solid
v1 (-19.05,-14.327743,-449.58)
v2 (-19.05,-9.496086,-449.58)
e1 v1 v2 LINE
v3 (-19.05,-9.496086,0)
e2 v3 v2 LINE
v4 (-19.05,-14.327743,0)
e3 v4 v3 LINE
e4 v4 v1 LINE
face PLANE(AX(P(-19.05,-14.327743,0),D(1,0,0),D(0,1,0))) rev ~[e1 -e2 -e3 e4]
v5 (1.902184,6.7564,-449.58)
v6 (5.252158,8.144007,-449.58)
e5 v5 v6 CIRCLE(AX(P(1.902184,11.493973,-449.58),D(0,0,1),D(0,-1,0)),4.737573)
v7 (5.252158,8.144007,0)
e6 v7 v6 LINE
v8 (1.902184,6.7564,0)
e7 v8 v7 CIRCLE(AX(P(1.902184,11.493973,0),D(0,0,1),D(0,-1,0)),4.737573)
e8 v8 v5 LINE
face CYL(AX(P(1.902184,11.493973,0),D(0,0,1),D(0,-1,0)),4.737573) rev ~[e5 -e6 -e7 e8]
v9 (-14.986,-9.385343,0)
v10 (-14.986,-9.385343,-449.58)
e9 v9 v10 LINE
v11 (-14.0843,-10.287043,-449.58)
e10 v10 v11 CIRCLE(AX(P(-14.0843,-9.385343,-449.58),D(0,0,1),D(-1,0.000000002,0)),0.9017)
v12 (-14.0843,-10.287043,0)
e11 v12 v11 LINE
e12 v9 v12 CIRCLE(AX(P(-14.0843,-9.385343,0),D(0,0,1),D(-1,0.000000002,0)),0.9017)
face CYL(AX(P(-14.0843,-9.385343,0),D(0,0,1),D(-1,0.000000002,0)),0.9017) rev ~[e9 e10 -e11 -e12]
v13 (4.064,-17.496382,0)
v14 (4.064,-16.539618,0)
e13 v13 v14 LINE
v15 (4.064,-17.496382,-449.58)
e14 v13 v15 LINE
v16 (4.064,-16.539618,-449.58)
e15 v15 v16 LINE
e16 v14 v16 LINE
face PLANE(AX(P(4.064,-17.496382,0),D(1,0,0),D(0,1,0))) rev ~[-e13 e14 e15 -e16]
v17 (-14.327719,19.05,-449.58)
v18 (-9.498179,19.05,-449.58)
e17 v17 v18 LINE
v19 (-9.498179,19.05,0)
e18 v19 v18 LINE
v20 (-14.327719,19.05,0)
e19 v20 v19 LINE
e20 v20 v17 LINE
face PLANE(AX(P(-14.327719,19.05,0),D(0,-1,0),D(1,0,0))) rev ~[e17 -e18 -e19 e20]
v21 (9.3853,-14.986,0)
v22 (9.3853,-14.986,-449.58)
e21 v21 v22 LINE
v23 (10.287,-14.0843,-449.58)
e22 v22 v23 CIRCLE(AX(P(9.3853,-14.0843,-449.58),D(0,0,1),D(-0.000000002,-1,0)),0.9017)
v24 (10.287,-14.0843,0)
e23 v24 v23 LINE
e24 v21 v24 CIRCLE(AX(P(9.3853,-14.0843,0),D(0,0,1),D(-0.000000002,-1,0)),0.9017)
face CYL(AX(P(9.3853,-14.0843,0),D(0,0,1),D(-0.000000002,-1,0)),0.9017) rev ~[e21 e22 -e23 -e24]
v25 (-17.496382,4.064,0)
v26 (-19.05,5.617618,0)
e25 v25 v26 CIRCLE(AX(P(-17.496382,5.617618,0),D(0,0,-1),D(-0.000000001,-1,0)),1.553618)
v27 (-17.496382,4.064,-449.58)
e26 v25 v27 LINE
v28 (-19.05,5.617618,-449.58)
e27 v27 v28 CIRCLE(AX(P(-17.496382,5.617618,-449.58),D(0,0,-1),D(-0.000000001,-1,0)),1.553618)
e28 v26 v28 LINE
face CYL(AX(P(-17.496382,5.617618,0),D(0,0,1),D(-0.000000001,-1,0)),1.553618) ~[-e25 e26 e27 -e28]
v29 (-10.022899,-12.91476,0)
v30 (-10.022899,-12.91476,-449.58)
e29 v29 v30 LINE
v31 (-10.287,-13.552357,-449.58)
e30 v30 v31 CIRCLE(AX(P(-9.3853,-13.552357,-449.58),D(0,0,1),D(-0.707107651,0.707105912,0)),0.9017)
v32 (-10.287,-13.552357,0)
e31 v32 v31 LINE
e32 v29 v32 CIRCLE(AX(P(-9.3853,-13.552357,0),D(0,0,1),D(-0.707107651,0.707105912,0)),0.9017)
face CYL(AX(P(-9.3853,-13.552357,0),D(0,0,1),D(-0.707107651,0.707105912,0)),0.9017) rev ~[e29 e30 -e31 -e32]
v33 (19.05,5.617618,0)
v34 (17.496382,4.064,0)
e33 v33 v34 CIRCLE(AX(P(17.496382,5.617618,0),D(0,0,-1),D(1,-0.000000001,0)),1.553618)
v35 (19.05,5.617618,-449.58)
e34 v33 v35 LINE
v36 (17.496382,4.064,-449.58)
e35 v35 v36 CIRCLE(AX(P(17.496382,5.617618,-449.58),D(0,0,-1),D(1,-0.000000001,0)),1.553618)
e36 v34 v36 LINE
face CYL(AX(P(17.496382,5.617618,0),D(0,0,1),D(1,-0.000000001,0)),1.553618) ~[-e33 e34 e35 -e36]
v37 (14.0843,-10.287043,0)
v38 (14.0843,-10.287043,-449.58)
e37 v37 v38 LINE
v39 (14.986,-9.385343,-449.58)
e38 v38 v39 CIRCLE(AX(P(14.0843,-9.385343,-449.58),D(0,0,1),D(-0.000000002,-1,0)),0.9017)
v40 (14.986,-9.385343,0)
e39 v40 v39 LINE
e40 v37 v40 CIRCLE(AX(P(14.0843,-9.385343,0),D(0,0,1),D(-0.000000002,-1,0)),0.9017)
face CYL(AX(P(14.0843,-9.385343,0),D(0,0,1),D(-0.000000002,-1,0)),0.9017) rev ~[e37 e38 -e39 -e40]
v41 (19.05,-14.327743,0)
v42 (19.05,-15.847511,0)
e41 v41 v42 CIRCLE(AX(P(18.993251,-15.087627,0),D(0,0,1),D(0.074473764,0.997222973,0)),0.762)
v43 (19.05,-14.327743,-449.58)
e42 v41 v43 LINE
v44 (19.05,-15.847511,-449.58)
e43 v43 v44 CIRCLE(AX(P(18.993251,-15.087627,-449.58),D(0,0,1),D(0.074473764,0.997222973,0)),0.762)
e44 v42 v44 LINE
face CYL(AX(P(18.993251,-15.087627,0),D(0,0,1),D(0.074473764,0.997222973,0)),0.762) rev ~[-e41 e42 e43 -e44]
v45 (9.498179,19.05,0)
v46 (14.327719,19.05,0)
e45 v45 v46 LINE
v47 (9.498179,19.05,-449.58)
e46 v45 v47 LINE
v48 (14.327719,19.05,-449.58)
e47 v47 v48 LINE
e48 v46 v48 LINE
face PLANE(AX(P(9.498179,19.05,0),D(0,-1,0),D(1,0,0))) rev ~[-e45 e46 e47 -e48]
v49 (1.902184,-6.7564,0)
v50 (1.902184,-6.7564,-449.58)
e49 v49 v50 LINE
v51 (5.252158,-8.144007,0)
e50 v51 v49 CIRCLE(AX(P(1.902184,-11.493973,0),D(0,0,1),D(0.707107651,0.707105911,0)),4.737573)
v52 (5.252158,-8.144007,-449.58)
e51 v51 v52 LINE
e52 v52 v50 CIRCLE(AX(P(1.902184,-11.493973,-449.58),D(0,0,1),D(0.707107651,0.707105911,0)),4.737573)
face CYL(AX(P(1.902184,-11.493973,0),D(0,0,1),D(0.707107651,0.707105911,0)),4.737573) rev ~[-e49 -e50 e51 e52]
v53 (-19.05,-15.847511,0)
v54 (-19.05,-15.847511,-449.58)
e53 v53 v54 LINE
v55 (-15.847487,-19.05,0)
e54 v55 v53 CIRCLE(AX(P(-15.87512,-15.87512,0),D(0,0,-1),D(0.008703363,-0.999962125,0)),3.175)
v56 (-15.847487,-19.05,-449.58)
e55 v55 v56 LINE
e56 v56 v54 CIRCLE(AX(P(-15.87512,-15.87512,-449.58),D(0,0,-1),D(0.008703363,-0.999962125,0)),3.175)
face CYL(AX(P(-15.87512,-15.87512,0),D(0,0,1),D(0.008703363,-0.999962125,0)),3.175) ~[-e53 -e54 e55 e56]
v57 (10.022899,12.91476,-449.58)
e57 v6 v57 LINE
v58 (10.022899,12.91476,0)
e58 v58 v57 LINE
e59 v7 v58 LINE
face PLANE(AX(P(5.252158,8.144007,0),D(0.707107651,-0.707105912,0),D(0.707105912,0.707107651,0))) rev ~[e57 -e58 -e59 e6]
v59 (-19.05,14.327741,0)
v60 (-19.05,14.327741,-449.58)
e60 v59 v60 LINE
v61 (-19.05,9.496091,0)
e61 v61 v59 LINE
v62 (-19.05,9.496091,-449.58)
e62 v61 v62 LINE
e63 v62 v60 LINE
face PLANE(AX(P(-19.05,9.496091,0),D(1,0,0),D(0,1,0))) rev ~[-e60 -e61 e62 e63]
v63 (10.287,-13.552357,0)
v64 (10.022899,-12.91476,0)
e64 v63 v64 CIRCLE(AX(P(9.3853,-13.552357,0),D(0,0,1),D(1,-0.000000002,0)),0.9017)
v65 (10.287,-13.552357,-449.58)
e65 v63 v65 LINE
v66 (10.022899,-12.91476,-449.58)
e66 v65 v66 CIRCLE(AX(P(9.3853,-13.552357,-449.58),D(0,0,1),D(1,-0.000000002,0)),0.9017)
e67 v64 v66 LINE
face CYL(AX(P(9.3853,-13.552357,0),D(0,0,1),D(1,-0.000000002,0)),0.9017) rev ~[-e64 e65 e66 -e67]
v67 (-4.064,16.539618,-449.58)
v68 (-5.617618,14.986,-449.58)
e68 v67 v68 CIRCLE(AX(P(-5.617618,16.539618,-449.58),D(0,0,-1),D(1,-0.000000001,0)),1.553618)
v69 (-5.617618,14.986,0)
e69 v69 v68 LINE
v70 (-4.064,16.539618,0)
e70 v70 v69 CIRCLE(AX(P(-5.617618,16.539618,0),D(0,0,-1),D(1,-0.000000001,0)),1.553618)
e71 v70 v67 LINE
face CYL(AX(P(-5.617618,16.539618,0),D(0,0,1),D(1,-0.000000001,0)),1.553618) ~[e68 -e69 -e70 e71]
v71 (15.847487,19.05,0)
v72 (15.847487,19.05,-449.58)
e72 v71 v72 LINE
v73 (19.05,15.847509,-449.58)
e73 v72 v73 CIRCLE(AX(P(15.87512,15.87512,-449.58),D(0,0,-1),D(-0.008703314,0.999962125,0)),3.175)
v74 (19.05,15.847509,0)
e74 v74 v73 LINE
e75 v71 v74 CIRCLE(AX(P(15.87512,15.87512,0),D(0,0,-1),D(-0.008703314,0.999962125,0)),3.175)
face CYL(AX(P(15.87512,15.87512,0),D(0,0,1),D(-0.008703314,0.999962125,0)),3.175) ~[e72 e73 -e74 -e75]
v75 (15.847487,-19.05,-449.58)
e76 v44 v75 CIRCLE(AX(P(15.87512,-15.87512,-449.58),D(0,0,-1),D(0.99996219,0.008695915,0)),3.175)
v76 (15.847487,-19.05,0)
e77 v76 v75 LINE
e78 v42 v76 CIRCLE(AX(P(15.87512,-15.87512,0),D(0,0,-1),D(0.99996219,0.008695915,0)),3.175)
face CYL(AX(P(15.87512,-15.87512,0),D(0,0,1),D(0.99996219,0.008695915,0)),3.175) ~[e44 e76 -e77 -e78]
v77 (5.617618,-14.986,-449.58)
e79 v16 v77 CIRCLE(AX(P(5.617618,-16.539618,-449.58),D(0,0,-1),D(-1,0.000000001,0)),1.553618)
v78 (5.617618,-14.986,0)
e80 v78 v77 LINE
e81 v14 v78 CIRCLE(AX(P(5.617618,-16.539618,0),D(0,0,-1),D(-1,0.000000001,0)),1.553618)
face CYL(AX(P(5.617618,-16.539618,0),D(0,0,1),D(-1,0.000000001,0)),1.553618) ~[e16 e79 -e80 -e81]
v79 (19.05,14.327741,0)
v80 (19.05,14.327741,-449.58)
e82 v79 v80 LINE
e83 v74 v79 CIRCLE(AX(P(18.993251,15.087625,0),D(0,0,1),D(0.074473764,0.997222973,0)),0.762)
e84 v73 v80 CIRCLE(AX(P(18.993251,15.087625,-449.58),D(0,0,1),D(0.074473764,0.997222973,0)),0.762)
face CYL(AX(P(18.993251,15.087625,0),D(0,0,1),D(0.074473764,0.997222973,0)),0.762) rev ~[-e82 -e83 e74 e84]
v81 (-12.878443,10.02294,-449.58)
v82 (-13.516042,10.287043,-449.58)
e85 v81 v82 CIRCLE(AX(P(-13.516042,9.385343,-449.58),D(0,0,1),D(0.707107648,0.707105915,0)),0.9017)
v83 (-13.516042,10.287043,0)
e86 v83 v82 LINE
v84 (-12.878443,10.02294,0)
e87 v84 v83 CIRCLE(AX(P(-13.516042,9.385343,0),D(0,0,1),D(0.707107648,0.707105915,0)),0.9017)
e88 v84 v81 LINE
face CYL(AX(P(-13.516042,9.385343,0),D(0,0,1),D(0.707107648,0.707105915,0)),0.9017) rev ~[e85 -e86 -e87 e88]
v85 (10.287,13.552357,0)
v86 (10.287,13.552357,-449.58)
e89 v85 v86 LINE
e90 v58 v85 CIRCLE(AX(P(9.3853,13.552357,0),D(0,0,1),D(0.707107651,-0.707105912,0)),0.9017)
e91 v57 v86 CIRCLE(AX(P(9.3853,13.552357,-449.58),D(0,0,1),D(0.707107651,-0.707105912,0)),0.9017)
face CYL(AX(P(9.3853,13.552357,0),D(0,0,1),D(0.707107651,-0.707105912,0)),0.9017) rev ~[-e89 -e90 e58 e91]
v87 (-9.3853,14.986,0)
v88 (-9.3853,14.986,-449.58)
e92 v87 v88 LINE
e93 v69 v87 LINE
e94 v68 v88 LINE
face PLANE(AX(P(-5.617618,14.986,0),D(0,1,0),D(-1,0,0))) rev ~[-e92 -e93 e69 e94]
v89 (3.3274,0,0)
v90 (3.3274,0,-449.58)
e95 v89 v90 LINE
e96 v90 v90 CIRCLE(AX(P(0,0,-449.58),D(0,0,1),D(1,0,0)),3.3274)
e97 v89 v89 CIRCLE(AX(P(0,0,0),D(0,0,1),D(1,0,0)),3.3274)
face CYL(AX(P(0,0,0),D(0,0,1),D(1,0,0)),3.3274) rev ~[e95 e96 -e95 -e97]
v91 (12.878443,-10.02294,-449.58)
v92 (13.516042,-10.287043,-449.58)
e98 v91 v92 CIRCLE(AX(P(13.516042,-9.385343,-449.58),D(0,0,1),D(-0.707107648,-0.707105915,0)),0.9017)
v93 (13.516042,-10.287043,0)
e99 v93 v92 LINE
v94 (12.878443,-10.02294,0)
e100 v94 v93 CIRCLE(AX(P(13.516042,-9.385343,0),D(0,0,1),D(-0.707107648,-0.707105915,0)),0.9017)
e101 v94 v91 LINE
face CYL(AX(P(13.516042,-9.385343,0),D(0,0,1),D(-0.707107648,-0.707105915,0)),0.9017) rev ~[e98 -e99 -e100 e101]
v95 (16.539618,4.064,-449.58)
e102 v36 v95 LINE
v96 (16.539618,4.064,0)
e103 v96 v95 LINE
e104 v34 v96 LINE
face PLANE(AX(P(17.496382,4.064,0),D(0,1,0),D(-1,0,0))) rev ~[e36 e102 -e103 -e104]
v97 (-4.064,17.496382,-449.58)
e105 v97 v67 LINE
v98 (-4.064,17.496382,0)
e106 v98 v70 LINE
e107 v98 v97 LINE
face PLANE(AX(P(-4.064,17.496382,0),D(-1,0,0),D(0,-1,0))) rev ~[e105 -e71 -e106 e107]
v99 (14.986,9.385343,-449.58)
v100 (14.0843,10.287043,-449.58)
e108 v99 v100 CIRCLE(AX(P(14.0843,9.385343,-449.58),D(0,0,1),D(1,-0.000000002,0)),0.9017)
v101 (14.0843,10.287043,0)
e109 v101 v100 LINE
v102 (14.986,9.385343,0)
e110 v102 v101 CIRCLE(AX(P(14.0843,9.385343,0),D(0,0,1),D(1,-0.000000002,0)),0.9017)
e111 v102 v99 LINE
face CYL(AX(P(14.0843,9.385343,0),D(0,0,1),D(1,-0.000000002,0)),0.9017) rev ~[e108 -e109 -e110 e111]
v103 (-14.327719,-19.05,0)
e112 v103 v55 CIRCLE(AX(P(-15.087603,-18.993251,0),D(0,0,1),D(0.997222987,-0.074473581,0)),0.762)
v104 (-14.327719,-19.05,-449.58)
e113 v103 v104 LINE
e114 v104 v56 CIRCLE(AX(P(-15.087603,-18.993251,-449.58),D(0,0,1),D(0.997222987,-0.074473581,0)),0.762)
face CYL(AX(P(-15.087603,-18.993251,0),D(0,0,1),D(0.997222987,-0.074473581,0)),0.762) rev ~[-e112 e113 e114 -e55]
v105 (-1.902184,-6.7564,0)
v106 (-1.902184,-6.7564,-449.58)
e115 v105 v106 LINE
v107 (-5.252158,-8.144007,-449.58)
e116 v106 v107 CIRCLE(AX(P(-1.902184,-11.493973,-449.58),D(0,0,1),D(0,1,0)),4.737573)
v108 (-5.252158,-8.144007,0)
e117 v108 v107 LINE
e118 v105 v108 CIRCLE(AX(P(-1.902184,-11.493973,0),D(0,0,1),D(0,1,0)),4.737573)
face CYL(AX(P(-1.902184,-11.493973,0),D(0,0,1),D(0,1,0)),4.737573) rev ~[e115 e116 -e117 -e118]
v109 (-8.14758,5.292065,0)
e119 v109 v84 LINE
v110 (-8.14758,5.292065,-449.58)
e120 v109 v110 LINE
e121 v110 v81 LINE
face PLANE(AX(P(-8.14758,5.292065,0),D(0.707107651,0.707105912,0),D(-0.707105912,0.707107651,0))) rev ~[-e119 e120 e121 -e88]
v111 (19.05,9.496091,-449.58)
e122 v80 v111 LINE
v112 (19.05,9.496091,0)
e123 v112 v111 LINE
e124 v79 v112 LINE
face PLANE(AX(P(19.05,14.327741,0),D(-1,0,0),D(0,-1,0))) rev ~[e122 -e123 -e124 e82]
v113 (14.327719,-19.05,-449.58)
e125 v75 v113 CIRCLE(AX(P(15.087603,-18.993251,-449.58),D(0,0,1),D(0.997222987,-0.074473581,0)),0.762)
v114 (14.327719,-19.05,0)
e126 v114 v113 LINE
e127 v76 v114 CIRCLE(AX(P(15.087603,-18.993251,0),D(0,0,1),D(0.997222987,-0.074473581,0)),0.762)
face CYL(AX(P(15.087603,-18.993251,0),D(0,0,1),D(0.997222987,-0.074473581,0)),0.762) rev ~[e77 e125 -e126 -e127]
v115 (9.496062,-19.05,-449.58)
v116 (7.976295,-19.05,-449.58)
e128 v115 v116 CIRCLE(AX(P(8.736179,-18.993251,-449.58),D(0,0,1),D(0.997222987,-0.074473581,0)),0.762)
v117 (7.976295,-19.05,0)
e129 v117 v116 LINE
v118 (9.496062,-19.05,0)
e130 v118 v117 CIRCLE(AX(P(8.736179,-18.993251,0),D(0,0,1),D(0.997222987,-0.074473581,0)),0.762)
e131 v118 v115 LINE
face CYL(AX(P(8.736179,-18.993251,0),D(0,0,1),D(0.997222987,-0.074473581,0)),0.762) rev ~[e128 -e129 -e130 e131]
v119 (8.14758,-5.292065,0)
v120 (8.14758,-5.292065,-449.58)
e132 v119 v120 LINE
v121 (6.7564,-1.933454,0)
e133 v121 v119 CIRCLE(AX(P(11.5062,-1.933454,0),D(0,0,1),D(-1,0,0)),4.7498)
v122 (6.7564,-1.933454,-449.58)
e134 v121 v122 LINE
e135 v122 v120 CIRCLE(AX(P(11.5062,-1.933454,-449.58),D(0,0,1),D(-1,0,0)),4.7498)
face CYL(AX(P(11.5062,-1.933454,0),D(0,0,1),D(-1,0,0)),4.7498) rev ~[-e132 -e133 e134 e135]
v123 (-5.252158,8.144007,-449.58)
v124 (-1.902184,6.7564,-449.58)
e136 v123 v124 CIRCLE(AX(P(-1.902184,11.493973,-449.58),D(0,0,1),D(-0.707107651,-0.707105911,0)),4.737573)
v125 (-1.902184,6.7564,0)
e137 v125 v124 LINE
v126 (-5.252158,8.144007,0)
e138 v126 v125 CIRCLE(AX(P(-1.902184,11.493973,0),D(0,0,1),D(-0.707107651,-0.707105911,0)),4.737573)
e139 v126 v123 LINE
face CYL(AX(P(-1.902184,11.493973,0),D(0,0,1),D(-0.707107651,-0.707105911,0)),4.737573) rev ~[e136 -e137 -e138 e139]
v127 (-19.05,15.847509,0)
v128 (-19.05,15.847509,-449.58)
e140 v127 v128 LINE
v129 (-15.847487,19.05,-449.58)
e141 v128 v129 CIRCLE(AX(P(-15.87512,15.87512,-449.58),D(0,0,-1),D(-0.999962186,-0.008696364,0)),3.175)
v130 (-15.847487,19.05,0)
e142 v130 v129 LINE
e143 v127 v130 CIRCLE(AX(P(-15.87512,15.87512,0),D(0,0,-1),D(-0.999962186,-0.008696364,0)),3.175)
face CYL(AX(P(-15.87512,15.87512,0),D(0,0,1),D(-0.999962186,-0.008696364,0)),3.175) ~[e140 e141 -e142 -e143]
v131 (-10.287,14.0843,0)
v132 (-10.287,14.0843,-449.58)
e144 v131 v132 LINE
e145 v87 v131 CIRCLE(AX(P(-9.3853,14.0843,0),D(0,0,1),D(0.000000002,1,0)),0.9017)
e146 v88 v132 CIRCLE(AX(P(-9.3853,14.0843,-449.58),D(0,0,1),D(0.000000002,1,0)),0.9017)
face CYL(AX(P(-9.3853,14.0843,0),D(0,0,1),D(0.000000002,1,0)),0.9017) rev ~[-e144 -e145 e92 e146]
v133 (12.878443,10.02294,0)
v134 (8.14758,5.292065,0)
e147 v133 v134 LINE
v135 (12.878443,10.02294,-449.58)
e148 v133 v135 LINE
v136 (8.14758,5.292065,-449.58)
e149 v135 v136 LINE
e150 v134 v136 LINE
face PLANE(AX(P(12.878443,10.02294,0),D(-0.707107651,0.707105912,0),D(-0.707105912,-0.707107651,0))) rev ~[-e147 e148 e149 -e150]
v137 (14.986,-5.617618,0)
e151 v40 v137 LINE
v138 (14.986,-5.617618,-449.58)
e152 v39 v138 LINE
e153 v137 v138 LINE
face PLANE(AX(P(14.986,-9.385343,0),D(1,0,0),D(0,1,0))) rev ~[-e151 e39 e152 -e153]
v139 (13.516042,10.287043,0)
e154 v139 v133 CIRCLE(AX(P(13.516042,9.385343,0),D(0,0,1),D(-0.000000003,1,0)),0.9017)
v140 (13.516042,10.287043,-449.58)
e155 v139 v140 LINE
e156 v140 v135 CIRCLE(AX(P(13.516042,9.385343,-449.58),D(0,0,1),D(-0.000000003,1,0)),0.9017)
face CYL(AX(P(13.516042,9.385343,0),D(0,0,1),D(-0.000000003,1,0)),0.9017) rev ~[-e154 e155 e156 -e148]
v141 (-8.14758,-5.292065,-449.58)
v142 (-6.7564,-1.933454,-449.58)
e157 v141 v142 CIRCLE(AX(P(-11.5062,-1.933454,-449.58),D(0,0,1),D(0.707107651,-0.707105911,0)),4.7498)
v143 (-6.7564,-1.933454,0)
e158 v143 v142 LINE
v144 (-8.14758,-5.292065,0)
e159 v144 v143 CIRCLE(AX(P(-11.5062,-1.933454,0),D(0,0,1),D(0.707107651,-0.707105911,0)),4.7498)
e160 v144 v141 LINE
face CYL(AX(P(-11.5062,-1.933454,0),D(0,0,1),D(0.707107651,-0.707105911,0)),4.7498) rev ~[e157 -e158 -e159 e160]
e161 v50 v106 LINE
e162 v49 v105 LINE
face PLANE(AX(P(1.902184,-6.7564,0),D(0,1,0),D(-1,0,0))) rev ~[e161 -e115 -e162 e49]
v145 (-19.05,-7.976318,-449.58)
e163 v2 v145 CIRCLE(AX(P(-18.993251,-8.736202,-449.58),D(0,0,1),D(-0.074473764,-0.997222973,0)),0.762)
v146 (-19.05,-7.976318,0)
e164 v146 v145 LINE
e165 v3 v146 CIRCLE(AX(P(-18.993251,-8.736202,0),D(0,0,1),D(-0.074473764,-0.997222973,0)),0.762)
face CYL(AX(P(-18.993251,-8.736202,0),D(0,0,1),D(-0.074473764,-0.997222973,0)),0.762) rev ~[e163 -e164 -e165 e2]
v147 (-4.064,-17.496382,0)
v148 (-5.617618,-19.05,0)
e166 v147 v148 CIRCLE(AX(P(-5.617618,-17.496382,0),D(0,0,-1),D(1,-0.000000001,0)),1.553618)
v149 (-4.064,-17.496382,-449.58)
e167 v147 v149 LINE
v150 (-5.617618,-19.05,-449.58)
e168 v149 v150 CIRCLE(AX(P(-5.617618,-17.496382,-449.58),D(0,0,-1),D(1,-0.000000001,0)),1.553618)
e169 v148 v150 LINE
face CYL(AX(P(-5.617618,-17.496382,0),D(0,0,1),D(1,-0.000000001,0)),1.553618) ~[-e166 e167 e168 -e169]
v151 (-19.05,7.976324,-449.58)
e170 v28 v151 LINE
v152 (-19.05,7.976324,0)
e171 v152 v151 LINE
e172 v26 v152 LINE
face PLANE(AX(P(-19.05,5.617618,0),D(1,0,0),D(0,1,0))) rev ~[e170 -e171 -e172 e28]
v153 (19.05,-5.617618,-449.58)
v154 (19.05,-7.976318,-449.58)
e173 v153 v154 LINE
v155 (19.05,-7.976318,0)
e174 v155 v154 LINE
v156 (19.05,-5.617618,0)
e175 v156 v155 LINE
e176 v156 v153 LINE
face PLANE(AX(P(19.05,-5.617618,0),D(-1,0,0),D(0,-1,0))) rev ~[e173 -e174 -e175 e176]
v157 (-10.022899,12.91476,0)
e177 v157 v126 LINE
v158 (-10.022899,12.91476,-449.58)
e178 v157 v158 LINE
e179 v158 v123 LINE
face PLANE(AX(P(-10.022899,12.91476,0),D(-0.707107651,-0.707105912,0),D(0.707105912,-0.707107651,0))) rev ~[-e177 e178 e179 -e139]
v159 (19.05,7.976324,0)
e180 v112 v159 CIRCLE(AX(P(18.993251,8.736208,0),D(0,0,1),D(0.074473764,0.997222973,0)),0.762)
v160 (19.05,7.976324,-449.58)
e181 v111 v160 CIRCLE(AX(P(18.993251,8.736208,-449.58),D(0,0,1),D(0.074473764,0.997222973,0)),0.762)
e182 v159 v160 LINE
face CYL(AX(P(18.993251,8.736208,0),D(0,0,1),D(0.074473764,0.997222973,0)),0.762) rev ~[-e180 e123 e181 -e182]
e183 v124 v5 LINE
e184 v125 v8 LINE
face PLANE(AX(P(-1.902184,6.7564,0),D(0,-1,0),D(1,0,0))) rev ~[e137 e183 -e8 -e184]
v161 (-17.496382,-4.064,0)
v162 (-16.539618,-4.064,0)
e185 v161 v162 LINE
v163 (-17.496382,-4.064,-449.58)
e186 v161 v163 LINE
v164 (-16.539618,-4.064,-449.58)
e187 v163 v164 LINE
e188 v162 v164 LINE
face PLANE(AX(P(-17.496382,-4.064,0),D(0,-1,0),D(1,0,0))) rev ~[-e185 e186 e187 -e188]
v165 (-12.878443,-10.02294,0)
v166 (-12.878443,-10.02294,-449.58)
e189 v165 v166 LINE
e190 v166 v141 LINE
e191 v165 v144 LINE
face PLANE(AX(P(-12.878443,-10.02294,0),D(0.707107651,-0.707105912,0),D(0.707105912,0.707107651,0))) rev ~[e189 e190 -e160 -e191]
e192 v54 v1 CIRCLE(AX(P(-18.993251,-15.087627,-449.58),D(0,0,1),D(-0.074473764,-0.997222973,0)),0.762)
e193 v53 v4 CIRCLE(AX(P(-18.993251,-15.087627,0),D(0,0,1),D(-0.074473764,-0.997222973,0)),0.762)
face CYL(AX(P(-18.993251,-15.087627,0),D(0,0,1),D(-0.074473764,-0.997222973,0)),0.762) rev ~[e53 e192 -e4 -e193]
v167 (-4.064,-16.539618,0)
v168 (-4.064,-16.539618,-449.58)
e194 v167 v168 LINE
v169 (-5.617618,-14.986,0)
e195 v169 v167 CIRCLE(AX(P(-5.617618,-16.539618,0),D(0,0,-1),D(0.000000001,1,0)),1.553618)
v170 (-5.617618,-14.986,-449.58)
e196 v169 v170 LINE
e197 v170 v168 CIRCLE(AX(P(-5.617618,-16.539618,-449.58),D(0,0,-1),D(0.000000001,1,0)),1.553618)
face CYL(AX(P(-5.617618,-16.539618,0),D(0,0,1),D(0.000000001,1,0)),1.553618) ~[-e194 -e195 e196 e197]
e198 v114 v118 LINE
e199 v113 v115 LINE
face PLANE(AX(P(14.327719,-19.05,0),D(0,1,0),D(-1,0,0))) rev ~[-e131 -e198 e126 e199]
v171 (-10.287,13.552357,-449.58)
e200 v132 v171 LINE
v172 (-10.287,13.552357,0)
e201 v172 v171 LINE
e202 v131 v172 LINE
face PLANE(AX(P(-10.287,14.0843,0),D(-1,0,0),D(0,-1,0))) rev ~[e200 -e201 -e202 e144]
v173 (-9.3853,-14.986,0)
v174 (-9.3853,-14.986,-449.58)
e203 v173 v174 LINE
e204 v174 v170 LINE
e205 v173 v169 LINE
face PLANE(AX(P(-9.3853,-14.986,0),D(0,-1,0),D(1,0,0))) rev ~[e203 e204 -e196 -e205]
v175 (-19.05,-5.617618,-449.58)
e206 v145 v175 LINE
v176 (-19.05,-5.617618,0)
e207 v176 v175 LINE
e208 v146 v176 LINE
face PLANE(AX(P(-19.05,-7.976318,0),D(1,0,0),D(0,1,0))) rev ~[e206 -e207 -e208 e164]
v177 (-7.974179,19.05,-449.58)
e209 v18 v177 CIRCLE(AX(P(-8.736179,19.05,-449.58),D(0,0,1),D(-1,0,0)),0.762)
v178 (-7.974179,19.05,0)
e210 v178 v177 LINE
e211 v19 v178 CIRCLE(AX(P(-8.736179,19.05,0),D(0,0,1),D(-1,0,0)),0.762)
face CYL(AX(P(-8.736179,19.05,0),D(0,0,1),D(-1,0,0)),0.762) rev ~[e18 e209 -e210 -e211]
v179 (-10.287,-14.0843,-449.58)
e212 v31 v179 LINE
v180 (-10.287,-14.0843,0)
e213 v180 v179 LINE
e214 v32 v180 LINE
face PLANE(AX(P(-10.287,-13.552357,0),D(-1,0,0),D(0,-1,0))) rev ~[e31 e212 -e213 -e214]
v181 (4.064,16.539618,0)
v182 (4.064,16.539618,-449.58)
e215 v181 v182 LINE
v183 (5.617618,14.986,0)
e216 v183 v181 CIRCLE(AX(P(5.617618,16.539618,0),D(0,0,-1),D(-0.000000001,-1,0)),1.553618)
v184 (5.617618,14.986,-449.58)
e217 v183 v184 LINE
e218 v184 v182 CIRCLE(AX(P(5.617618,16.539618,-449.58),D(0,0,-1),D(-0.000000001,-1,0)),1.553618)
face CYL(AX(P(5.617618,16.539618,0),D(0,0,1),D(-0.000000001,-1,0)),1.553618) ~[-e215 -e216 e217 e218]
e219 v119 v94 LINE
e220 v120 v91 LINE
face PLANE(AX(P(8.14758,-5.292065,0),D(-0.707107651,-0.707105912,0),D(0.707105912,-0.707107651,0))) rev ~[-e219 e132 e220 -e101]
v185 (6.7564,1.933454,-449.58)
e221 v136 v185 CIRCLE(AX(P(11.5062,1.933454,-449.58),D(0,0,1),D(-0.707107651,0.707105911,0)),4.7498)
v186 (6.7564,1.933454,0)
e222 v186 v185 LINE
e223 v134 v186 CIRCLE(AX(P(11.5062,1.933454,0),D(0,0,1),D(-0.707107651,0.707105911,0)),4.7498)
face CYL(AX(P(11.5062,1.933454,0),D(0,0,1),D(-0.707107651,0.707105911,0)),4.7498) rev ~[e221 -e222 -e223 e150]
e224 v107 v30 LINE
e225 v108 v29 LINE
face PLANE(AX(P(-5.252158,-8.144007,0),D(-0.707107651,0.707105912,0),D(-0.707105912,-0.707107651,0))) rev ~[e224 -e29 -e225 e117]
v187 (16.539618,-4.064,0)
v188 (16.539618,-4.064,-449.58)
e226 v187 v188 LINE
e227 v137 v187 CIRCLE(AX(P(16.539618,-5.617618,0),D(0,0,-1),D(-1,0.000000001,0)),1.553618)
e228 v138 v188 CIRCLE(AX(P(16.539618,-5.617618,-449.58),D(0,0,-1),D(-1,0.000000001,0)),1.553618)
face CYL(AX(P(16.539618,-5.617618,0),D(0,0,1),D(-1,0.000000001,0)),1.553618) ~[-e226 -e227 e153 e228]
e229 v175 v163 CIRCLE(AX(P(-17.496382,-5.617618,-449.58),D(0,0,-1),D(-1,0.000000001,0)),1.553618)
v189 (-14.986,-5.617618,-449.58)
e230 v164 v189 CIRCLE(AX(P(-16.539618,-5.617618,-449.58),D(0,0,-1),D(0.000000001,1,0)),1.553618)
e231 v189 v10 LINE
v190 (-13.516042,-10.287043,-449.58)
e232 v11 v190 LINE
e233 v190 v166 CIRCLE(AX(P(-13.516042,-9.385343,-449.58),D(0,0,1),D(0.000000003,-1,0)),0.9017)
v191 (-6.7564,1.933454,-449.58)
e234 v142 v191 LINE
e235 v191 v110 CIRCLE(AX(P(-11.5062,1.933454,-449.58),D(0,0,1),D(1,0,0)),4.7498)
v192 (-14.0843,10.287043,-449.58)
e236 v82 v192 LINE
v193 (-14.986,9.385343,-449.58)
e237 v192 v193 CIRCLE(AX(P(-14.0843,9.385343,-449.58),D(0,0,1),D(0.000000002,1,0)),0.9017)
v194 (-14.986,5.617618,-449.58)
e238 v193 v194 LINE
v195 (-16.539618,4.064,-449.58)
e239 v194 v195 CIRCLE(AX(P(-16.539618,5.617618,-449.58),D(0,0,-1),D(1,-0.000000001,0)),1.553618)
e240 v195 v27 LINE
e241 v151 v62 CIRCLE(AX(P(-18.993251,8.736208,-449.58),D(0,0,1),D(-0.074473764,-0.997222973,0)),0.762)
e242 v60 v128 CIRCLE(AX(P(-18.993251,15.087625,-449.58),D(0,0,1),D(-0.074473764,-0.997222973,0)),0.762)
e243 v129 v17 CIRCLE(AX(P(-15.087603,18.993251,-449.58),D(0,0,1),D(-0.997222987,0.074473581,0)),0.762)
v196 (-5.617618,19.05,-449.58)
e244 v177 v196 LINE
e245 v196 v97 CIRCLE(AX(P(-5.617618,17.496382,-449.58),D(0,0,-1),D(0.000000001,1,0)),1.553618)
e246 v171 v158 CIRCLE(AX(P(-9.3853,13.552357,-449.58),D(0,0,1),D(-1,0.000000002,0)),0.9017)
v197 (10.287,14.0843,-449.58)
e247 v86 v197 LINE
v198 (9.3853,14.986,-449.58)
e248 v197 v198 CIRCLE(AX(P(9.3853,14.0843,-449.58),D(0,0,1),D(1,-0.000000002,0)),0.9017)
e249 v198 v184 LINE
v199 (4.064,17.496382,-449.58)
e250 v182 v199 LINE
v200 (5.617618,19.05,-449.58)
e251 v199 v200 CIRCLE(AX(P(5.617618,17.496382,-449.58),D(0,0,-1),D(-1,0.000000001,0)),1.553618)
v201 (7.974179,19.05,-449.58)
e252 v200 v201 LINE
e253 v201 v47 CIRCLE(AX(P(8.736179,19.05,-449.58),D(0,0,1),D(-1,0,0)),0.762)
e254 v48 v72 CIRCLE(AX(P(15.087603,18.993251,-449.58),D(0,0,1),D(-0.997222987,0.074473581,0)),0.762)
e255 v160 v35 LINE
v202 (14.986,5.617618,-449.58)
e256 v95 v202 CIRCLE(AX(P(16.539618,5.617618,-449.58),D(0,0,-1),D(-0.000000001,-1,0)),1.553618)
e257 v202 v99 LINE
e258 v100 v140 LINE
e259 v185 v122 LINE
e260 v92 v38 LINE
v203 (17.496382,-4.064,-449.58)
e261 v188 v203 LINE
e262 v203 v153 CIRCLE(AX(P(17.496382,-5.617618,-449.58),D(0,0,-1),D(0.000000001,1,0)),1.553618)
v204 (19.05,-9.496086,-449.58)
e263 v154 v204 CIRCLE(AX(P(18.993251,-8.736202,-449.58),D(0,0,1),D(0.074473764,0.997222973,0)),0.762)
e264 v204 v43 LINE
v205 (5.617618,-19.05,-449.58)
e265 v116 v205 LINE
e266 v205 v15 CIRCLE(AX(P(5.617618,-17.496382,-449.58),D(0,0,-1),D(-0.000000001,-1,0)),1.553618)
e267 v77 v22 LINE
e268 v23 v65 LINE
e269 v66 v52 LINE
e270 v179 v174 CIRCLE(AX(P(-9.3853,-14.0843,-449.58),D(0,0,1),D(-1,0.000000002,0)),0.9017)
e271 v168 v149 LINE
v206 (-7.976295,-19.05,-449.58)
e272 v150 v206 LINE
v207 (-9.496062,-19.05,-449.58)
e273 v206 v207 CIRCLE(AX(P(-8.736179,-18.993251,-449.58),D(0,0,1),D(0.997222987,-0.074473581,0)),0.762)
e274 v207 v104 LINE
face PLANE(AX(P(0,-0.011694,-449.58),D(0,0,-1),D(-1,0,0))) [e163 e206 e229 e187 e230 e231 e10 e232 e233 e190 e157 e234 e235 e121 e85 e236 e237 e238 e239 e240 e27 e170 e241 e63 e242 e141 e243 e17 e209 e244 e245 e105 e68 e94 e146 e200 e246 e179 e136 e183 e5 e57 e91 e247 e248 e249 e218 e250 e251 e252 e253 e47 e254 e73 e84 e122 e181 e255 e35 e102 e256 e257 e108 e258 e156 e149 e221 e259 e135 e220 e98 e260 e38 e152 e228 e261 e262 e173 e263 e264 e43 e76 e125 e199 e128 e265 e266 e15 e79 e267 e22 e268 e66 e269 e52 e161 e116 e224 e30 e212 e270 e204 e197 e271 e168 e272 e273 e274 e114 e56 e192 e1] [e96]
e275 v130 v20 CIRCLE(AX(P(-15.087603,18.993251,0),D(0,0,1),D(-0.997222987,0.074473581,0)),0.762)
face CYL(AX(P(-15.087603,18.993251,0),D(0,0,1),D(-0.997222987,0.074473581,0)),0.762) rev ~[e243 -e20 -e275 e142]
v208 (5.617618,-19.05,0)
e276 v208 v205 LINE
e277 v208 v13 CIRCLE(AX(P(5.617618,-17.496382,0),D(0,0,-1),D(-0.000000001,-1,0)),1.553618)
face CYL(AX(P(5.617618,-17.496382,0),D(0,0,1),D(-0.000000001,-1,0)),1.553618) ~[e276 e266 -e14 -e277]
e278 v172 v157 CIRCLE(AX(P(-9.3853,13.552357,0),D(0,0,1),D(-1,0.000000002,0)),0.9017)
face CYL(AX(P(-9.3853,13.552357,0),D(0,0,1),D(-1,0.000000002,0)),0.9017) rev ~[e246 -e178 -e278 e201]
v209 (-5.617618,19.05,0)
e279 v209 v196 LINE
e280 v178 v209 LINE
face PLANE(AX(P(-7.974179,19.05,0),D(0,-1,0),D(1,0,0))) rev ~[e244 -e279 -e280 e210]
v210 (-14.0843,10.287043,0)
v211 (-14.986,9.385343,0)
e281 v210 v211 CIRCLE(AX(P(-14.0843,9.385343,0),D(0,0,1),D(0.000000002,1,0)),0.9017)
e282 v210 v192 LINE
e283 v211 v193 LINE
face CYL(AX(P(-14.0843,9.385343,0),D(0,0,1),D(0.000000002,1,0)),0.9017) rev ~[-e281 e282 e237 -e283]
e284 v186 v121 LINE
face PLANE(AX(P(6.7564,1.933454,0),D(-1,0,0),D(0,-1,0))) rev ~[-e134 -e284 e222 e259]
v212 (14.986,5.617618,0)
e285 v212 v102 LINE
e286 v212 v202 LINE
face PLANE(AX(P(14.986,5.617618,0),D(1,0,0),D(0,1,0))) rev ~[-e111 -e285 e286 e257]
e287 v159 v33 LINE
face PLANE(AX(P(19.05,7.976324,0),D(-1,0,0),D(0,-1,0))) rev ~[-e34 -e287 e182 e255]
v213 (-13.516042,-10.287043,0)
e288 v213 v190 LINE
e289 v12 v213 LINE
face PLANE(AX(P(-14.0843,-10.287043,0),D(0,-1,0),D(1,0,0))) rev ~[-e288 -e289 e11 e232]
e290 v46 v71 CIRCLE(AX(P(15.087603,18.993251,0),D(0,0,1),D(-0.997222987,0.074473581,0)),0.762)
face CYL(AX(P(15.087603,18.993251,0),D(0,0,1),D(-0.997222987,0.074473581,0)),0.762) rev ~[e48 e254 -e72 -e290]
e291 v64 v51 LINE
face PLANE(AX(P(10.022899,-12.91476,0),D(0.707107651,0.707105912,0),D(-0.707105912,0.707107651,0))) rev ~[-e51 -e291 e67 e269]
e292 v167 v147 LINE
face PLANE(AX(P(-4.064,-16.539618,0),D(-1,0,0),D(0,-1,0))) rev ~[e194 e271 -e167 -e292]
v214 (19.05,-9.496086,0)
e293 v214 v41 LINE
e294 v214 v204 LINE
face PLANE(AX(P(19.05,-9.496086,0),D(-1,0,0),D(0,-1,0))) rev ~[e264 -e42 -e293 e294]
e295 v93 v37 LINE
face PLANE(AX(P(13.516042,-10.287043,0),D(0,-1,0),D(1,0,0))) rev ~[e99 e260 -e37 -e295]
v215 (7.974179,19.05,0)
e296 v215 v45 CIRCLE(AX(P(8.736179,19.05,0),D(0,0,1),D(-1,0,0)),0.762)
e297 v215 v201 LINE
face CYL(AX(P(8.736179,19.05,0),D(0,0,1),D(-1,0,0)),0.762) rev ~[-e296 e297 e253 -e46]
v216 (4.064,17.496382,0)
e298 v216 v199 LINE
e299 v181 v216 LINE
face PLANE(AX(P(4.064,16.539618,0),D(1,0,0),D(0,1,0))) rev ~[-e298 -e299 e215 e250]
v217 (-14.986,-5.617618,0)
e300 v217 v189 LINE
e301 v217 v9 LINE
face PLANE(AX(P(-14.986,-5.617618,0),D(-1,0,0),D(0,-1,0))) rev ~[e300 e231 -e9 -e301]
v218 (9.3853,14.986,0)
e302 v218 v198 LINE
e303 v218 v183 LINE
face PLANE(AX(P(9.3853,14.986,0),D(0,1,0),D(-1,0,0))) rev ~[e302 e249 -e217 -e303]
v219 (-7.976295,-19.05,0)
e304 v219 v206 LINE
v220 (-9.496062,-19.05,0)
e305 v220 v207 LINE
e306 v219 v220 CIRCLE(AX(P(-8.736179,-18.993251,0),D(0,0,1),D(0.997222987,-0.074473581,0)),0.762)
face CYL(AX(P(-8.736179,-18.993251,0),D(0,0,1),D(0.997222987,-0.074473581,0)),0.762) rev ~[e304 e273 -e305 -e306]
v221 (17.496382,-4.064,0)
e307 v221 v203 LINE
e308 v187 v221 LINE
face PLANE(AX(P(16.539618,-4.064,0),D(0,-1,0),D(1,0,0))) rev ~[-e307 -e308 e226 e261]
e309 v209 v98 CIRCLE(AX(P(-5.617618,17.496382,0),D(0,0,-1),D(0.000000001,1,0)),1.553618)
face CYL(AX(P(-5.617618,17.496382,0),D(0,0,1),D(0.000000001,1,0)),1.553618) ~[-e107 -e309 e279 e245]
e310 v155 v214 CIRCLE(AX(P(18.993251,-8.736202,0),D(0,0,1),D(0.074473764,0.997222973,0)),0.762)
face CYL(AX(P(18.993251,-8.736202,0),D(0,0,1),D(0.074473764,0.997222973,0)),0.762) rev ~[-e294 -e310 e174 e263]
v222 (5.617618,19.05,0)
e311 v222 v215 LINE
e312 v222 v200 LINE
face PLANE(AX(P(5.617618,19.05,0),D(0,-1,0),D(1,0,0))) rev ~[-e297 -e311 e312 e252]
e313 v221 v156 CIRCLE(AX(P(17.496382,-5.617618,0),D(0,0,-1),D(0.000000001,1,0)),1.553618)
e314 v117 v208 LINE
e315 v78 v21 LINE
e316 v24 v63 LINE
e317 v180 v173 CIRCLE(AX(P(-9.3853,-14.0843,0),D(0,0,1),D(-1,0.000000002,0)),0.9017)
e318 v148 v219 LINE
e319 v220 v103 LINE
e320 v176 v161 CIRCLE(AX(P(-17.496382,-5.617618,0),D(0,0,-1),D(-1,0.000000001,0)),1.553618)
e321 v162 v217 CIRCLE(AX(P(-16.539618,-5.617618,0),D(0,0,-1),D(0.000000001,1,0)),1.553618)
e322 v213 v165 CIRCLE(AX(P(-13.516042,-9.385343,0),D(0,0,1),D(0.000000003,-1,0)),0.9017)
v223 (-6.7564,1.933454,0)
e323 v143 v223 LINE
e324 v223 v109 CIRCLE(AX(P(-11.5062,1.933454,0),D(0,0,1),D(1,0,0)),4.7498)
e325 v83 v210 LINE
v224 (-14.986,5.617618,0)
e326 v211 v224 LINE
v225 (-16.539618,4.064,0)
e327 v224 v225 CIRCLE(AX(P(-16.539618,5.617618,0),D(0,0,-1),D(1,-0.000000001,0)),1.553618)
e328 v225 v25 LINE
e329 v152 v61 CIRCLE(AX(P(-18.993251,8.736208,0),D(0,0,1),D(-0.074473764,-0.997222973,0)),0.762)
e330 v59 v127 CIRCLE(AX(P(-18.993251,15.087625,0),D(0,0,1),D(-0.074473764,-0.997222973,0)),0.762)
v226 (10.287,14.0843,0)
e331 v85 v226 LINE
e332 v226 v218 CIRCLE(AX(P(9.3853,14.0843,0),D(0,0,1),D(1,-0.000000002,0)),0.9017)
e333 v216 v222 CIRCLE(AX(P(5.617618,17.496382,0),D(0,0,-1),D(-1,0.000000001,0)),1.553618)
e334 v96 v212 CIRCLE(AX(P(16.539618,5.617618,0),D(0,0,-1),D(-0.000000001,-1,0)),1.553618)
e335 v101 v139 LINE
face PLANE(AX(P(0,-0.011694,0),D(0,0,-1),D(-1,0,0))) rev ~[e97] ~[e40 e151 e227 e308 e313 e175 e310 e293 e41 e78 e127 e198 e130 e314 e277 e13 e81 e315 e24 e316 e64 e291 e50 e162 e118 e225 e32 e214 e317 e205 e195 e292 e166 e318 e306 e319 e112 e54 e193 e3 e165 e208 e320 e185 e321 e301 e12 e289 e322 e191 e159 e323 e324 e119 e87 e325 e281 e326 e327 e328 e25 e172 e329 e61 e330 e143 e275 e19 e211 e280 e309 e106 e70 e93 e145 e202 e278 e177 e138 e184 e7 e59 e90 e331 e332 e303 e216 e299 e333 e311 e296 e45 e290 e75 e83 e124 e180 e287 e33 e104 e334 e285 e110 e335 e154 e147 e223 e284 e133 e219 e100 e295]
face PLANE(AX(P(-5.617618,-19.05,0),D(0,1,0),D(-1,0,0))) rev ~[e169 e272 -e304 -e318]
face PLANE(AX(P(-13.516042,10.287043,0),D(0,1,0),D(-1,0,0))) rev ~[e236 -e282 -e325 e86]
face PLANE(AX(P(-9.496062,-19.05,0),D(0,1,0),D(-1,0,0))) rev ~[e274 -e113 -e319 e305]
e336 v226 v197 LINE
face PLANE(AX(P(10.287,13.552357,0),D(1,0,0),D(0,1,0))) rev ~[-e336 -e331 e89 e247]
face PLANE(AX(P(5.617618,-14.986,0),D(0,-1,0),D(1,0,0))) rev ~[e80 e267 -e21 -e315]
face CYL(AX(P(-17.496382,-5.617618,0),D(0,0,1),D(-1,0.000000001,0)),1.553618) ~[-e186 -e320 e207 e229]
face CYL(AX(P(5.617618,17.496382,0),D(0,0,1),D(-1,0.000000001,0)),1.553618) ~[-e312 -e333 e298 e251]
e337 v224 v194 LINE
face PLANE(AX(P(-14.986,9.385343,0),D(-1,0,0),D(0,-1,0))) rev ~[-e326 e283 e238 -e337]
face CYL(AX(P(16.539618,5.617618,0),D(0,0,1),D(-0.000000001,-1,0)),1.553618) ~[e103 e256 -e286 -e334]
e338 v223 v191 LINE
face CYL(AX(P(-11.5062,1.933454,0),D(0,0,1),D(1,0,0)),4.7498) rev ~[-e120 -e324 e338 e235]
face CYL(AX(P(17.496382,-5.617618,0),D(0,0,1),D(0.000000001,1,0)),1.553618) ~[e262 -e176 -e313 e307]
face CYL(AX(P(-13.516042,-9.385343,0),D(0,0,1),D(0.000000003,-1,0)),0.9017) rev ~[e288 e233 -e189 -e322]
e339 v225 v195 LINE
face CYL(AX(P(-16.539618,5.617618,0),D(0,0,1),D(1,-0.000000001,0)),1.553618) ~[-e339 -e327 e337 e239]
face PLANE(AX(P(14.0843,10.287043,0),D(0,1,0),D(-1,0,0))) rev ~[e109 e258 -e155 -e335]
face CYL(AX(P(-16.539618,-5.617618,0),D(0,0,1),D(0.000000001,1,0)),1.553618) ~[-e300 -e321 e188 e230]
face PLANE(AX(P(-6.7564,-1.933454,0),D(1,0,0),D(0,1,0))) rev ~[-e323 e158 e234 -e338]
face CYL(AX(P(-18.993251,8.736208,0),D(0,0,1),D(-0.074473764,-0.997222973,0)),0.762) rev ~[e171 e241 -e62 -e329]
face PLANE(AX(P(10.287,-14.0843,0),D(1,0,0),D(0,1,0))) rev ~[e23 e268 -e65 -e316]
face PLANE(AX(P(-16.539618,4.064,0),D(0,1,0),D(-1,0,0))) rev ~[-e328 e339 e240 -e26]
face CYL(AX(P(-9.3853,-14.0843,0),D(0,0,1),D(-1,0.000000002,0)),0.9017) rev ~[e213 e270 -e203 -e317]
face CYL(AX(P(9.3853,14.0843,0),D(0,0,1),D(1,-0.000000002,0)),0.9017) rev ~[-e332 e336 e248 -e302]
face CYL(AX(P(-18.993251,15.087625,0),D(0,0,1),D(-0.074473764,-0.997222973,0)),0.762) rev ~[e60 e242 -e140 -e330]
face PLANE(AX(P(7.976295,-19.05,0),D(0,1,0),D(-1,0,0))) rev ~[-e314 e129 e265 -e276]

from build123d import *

# Parameters (mm, degrees)
SKETCH1_R      = 3.3274
EXTRUDE1_DEPTH = 449.58


with BuildPart() as part:
    # Sketch1 → Extrude1 (new body)
    with BuildSketch(Plane.XY):
        with BuildLine():
            Line((-10.022898969, 12.91475973), (-5.252158105, 8.144007132))
            ThreePointArc((-5.252158105, 8.144007132), (-3.715177372, 7.117027388), (-1.902183975, 6.7564))
            Line((-1.902183975, 6.7564), (1.902183975, 6.7564))
            ThreePointArc((1.902183975, 6.7564), (3.715177372, 7.117027388), (5.252158105, 8.144007132))
            Line((5.252158105, 8.144007132), (10.022898969, 12.91475973))
            ThreePointArc((10.022898969, 12.91475973), (10.218362387, 13.207291992), (10.287, 13.552357131))
            Line((10.287, 13.552357131), (10.287, 14.0843))
            ThreePointArc((10.287, 14.0843), (10.022898185, 14.721898185), (9.3853, 14.986))
            Line((9.3853, 14.986), (5.617617549, 14.986))
            ThreePointArc((5.617617549, 14.986), (4.519044045, 15.441044045), (4.064, 16.539617549))
            Line((4.064, 16.539617549), (4.064, 17.496382451))
            ThreePointArc((4.064, 17.496382451), (4.519044045, 18.594955955), (5.617617549, 19.05))
            Line((5.617617549, 19.05), (7.974178704, 19.05))
            ThreePointArc((7.974178704, 19.05), (8.736178704, 18.288), (9.498178704, 19.05))
            Line((9.498178704, 19.05), (14.327719207, 19.05))
            ThreePointArc((14.327719207, 19.05), (15.087603123, 18.231251131), (15.847487039, 19.05))
            ThreePointArc((15.847487039, 19.05), (18.120176289, 18.120192083), (19.05, 15.847509295))
            ThreePointArc((19.05, 15.847509295), (18.231250992, 15.08762539), (19.05, 14.327741484))
            Line((19.05, 14.327741484), (19.05, 9.496091471))
            ThreePointArc((19.05, 9.496091471), (18.231250992, 8.736207565), (19.05, 7.97632366))
            Line((19.05, 7.97632366), (19.05, 5.617617549))
            ThreePointArc((19.05, 5.617617549), (18.594955955, 4.519044045), (17.496382451, 4.064))
            Line((17.496382451, 4.064), (16.539617549, 4.064))
            ThreePointArc((16.539617549, 4.064), (15.441044045, 4.519044045), (14.986, 5.617617549))
            Line((14.986, 5.617617549), (14.986, 9.385342516))
            ThreePointArc((14.986, 9.385342516), (14.721898185, 10.022940701), (14.0843, 10.287042516))
            Line((14.0843, 10.287042516), (13.516042086, 10.287042516))
            ThreePointArc((13.516042086, 10.287042516), (13.170975923, 10.218404478), (12.878443117, 10.022939917))
            Line((12.878443117, 10.022939917), (8.14758008, 5.292065243))
            ThreePointArc((8.14758008, 5.292065243), (7.117955879, 3.751120653), (6.7564, 1.933453584))
            Line((6.7564, 1.933453584), (6.7564, -1.933453584))
            ThreePointArc((6.7564, -1.933453584), (7.117955879, -3.751120653), (8.14758008, -5.292065243))
            Line((8.14758008, -5.292065243), (12.878443117, -10.022939917))
            ThreePointArc((12.878443117, -10.022939917), (13.170975923, -10.218404478), (13.516042086, -10.287042516))
            Line((13.516042086, -10.287042516), (14.0843, -10.287042516))
            ThreePointArc((14.0843, -10.287042516), (14.721898185, -10.022940701), (14.986, -9.385342516))
            Line((14.986, -9.385342516), (14.986, -5.617617549))
            ThreePointArc((14.986, -5.617617549), (15.441044045, -4.519044045), (16.539617549, -4.064))
            Line((16.539617549, -4.064), (17.496382451, -4.064))
            ThreePointArc((17.496382451, -4.064), (18.594955955, -4.519044045), (19.05, -5.617617549))
            Line((19.05, -5.617617549), (19.05, -7.976318491))
            ThreePointArc((19.05, -7.976318491), (18.231250992, -8.736202396), (19.05, -9.496086302))
            Line((19.05, -9.496086302), (19.05, -14.32774291))
            ThreePointArc((19.05, -14.32774291), (18.231250992, -15.087626816), (19.05, -15.847510721))
            ThreePointArc((19.05, -15.847510721), (18.120175716, -18.120192644), (15.847486868, -19.05))
            ThreePointArc((15.847486868, -19.05), (15.087602952, -18.231251131), (14.327719036, -19.05))
            Line((14.327719036, -19.05), (9.496062448, -19.05))
            ThreePointArc((9.496062448, -19.05), (8.736178532, -18.231251131), (7.976294616, -19.05))
            Line((7.976294616, -19.05), (5.617617549, -19.05))
            ThreePointArc((5.617617549, -19.05), (4.519044045, -18.594955955), (4.064, -17.496382451))
            Line((4.064, -17.496382451), (4.064, -16.539617549))
            ThreePointArc((4.064, -16.539617549), (4.519044045, -15.441044045), (5.617617549, -14.986))
            Line((5.617617549, -14.986), (9.3853, -14.986))
            ThreePointArc((9.3853, -14.986), (10.022898185, -14.721898185), (10.287, -14.0843))
            Line((10.287, -14.0843), (10.287, -13.552357131))
            ThreePointArc((10.287, -13.552357131), (10.218362387, -13.207291992), (10.022898969, -12.91475973))
            Line((10.022898969, -12.91475973), (5.252158105, -8.144007132))
            ThreePointArc((5.252158105, -8.144007132), (3.715177372, -7.117027388), (1.902183975, -6.7564))
            Line((1.902183975, -6.7564), (-1.902183975, -6.7564))
            ThreePointArc((-1.902183975, -6.7564), (-3.715177372, -7.117027388), (-5.252158105, -8.144007132))
            Line((-5.252158105, -8.144007132), (-10.022898969, -12.91475973))
            ThreePointArc((-10.022898969, -12.91475973), (-10.218362387, -13.207291992), (-10.287, -13.552357131))
            Line((-10.287, -13.552357131), (-10.287, -14.0843))
            ThreePointArc((-10.287, -14.0843), (-10.022898185, -14.721898185), (-9.3853, -14.986))
            Line((-9.3853, -14.986), (-5.617617549, -14.986))
            ThreePointArc((-5.617617549, -14.986), (-4.519044045, -15.441044045), (-4.064, -16.539617549))
            Line((-4.064, -16.539617549), (-4.064, -17.496382451))
            ThreePointArc((-4.064, -17.496382451), (-4.519044045, -18.594955955), (-5.617617549, -19.05))
            Line((-5.617617549, -19.05), (-7.976294616, -19.05))
            ThreePointArc((-7.976294616, -19.05), (-8.736178532, -18.231251131), (-9.496062448, -19.05))
            Line((-9.496062448, -19.05), (-14.327719036, -19.05))
            ThreePointArc((-14.327719036, -19.05), (-15.087602952, -18.231251131), (-15.847486868, -19.05))
            ThreePointArc((-15.847486868, -19.05), (-18.120175716, -18.120192644), (-19.05, -15.847510721))
            ThreePointArc((-19.05, -15.847510721), (-18.231250992, -15.087626816), (-19.05, -14.32774291))
            Line((-19.05, -14.32774291), (-19.05, -9.496086302))
            ThreePointArc((-19.05, -9.496086302), (-18.231250992, -8.736202396), (-19.05, -7.976318491))
            Line((-19.05, -7.976318491), (-19.05, -5.617617549))
            ThreePointArc((-19.05, -5.617617549), (-18.594955955, -4.519044045), (-17.496382451, -4.064))
            Line((-17.496382451, -4.064), (-16.539617549, -4.064))
            ThreePointArc((-16.539617549, -4.064), (-15.441044045, -4.519044045), (-14.986, -5.617617549))
            Line((-14.986, -5.617617549), (-14.986, -9.385342516))
            ThreePointArc((-14.986, -9.385342516), (-14.721898185, -10.022940701), (-14.0843, -10.287042516))
            Line((-14.0843, -10.287042516), (-13.516042086, -10.287042516))
            ThreePointArc((-13.516042086, -10.287042516), (-13.170975923, -10.218404478), (-12.878443117, -10.022939917))
            Line((-12.878443117, -10.022939917), (-8.14758008, -5.292065243))
            ThreePointArc((-8.14758008, -5.292065243), (-7.117955879, -3.751120653), (-6.7564, -1.933453584))
            Line((-6.7564, -1.933453584), (-6.7564, 1.933453584))
            ThreePointArc((-6.7564, 1.933453584), (-7.117955879, 3.751120653), (-8.14758008, 5.292065243))
            Line((-8.14758008, 5.292065243), (-12.878443117, 10.022939917))
            ThreePointArc((-12.878443117, 10.022939917), (-13.170975923, 10.218404478), (-13.516042086, 10.287042516))
            Line((-13.516042086, 10.287042516), (-14.0843, 10.287042516))
            ThreePointArc((-14.0843, 10.287042516), (-14.721898185, 10.022940701), (-14.986, 9.385342516))
            Line((-14.986, 9.385342516), (-14.986, 5.617617549))
            ThreePointArc((-14.986, 5.617617549), (-15.441044045, 4.519044045), (-16.539617549, 4.064))
            Line((-16.539617549, 4.064), (-17.496382451, 4.064))
            ThreePointArc((-17.496382451, 4.064), (-18.594955955, 4.519044045), (-19.05, 5.617617549))
            Line((-19.05, 5.617617549), (-19.05, 7.97632366))
            ThreePointArc((-19.05, 7.97632366), (-18.231250992, 8.736207565), (-19.05, 9.496091471))
            Line((-19.05, 9.496091471), (-19.05, 14.327741484))
            ThreePointArc((-19.05, 14.327741484), (-18.231250992, 15.08762539), (-19.05, 15.847509295))
            ThreePointArc((-19.05, 15.847509295), (-18.120176289, 18.120192083), (-15.847487039, 19.05))
            ThreePointArc((-15.847487039, 19.05), (-15.087603123, 18.231251131), (-14.327719207, 19.05))
            Line((-14.327719207, 19.05), (-9.498178704, 19.05))
            ThreePointArc((-9.498178704, 19.05), (-8.736178704, 18.288), (-7.974178704, 19.05))
            Line((-7.974178704, 19.05), (-5.617617549, 19.05))
            ThreePointArc((-5.617617549, 19.05), (-4.519044045, 18.594955955), (-4.064, 17.496382451))
            Line((-4.064, 17.496382451), (-4.064, 16.539617549))
            ThreePointArc((-4.064, 16.539617549), (-4.519044045, 15.441044045), (-5.617617549, 14.986))
            Line((-5.617617549, 14.986), (-9.3853, 14.986))
            ThreePointArc((-9.3853, 14.986), (-10.022898185, 14.721898185), (-10.287, 14.0843))
            Line((-10.287, 14.0843), (-10.287, 13.552357131))
            ThreePointArc((-10.287, 13.552357131), (-10.218362387, 13.207291992), (-10.022898969, 12.91475973))
        make_face()
        Circle(SKETCH1_R, mode=Mode.SUBTRACT)
    extrude(amount=-EXTRUDE1_DEPTH)


solid = part.part
